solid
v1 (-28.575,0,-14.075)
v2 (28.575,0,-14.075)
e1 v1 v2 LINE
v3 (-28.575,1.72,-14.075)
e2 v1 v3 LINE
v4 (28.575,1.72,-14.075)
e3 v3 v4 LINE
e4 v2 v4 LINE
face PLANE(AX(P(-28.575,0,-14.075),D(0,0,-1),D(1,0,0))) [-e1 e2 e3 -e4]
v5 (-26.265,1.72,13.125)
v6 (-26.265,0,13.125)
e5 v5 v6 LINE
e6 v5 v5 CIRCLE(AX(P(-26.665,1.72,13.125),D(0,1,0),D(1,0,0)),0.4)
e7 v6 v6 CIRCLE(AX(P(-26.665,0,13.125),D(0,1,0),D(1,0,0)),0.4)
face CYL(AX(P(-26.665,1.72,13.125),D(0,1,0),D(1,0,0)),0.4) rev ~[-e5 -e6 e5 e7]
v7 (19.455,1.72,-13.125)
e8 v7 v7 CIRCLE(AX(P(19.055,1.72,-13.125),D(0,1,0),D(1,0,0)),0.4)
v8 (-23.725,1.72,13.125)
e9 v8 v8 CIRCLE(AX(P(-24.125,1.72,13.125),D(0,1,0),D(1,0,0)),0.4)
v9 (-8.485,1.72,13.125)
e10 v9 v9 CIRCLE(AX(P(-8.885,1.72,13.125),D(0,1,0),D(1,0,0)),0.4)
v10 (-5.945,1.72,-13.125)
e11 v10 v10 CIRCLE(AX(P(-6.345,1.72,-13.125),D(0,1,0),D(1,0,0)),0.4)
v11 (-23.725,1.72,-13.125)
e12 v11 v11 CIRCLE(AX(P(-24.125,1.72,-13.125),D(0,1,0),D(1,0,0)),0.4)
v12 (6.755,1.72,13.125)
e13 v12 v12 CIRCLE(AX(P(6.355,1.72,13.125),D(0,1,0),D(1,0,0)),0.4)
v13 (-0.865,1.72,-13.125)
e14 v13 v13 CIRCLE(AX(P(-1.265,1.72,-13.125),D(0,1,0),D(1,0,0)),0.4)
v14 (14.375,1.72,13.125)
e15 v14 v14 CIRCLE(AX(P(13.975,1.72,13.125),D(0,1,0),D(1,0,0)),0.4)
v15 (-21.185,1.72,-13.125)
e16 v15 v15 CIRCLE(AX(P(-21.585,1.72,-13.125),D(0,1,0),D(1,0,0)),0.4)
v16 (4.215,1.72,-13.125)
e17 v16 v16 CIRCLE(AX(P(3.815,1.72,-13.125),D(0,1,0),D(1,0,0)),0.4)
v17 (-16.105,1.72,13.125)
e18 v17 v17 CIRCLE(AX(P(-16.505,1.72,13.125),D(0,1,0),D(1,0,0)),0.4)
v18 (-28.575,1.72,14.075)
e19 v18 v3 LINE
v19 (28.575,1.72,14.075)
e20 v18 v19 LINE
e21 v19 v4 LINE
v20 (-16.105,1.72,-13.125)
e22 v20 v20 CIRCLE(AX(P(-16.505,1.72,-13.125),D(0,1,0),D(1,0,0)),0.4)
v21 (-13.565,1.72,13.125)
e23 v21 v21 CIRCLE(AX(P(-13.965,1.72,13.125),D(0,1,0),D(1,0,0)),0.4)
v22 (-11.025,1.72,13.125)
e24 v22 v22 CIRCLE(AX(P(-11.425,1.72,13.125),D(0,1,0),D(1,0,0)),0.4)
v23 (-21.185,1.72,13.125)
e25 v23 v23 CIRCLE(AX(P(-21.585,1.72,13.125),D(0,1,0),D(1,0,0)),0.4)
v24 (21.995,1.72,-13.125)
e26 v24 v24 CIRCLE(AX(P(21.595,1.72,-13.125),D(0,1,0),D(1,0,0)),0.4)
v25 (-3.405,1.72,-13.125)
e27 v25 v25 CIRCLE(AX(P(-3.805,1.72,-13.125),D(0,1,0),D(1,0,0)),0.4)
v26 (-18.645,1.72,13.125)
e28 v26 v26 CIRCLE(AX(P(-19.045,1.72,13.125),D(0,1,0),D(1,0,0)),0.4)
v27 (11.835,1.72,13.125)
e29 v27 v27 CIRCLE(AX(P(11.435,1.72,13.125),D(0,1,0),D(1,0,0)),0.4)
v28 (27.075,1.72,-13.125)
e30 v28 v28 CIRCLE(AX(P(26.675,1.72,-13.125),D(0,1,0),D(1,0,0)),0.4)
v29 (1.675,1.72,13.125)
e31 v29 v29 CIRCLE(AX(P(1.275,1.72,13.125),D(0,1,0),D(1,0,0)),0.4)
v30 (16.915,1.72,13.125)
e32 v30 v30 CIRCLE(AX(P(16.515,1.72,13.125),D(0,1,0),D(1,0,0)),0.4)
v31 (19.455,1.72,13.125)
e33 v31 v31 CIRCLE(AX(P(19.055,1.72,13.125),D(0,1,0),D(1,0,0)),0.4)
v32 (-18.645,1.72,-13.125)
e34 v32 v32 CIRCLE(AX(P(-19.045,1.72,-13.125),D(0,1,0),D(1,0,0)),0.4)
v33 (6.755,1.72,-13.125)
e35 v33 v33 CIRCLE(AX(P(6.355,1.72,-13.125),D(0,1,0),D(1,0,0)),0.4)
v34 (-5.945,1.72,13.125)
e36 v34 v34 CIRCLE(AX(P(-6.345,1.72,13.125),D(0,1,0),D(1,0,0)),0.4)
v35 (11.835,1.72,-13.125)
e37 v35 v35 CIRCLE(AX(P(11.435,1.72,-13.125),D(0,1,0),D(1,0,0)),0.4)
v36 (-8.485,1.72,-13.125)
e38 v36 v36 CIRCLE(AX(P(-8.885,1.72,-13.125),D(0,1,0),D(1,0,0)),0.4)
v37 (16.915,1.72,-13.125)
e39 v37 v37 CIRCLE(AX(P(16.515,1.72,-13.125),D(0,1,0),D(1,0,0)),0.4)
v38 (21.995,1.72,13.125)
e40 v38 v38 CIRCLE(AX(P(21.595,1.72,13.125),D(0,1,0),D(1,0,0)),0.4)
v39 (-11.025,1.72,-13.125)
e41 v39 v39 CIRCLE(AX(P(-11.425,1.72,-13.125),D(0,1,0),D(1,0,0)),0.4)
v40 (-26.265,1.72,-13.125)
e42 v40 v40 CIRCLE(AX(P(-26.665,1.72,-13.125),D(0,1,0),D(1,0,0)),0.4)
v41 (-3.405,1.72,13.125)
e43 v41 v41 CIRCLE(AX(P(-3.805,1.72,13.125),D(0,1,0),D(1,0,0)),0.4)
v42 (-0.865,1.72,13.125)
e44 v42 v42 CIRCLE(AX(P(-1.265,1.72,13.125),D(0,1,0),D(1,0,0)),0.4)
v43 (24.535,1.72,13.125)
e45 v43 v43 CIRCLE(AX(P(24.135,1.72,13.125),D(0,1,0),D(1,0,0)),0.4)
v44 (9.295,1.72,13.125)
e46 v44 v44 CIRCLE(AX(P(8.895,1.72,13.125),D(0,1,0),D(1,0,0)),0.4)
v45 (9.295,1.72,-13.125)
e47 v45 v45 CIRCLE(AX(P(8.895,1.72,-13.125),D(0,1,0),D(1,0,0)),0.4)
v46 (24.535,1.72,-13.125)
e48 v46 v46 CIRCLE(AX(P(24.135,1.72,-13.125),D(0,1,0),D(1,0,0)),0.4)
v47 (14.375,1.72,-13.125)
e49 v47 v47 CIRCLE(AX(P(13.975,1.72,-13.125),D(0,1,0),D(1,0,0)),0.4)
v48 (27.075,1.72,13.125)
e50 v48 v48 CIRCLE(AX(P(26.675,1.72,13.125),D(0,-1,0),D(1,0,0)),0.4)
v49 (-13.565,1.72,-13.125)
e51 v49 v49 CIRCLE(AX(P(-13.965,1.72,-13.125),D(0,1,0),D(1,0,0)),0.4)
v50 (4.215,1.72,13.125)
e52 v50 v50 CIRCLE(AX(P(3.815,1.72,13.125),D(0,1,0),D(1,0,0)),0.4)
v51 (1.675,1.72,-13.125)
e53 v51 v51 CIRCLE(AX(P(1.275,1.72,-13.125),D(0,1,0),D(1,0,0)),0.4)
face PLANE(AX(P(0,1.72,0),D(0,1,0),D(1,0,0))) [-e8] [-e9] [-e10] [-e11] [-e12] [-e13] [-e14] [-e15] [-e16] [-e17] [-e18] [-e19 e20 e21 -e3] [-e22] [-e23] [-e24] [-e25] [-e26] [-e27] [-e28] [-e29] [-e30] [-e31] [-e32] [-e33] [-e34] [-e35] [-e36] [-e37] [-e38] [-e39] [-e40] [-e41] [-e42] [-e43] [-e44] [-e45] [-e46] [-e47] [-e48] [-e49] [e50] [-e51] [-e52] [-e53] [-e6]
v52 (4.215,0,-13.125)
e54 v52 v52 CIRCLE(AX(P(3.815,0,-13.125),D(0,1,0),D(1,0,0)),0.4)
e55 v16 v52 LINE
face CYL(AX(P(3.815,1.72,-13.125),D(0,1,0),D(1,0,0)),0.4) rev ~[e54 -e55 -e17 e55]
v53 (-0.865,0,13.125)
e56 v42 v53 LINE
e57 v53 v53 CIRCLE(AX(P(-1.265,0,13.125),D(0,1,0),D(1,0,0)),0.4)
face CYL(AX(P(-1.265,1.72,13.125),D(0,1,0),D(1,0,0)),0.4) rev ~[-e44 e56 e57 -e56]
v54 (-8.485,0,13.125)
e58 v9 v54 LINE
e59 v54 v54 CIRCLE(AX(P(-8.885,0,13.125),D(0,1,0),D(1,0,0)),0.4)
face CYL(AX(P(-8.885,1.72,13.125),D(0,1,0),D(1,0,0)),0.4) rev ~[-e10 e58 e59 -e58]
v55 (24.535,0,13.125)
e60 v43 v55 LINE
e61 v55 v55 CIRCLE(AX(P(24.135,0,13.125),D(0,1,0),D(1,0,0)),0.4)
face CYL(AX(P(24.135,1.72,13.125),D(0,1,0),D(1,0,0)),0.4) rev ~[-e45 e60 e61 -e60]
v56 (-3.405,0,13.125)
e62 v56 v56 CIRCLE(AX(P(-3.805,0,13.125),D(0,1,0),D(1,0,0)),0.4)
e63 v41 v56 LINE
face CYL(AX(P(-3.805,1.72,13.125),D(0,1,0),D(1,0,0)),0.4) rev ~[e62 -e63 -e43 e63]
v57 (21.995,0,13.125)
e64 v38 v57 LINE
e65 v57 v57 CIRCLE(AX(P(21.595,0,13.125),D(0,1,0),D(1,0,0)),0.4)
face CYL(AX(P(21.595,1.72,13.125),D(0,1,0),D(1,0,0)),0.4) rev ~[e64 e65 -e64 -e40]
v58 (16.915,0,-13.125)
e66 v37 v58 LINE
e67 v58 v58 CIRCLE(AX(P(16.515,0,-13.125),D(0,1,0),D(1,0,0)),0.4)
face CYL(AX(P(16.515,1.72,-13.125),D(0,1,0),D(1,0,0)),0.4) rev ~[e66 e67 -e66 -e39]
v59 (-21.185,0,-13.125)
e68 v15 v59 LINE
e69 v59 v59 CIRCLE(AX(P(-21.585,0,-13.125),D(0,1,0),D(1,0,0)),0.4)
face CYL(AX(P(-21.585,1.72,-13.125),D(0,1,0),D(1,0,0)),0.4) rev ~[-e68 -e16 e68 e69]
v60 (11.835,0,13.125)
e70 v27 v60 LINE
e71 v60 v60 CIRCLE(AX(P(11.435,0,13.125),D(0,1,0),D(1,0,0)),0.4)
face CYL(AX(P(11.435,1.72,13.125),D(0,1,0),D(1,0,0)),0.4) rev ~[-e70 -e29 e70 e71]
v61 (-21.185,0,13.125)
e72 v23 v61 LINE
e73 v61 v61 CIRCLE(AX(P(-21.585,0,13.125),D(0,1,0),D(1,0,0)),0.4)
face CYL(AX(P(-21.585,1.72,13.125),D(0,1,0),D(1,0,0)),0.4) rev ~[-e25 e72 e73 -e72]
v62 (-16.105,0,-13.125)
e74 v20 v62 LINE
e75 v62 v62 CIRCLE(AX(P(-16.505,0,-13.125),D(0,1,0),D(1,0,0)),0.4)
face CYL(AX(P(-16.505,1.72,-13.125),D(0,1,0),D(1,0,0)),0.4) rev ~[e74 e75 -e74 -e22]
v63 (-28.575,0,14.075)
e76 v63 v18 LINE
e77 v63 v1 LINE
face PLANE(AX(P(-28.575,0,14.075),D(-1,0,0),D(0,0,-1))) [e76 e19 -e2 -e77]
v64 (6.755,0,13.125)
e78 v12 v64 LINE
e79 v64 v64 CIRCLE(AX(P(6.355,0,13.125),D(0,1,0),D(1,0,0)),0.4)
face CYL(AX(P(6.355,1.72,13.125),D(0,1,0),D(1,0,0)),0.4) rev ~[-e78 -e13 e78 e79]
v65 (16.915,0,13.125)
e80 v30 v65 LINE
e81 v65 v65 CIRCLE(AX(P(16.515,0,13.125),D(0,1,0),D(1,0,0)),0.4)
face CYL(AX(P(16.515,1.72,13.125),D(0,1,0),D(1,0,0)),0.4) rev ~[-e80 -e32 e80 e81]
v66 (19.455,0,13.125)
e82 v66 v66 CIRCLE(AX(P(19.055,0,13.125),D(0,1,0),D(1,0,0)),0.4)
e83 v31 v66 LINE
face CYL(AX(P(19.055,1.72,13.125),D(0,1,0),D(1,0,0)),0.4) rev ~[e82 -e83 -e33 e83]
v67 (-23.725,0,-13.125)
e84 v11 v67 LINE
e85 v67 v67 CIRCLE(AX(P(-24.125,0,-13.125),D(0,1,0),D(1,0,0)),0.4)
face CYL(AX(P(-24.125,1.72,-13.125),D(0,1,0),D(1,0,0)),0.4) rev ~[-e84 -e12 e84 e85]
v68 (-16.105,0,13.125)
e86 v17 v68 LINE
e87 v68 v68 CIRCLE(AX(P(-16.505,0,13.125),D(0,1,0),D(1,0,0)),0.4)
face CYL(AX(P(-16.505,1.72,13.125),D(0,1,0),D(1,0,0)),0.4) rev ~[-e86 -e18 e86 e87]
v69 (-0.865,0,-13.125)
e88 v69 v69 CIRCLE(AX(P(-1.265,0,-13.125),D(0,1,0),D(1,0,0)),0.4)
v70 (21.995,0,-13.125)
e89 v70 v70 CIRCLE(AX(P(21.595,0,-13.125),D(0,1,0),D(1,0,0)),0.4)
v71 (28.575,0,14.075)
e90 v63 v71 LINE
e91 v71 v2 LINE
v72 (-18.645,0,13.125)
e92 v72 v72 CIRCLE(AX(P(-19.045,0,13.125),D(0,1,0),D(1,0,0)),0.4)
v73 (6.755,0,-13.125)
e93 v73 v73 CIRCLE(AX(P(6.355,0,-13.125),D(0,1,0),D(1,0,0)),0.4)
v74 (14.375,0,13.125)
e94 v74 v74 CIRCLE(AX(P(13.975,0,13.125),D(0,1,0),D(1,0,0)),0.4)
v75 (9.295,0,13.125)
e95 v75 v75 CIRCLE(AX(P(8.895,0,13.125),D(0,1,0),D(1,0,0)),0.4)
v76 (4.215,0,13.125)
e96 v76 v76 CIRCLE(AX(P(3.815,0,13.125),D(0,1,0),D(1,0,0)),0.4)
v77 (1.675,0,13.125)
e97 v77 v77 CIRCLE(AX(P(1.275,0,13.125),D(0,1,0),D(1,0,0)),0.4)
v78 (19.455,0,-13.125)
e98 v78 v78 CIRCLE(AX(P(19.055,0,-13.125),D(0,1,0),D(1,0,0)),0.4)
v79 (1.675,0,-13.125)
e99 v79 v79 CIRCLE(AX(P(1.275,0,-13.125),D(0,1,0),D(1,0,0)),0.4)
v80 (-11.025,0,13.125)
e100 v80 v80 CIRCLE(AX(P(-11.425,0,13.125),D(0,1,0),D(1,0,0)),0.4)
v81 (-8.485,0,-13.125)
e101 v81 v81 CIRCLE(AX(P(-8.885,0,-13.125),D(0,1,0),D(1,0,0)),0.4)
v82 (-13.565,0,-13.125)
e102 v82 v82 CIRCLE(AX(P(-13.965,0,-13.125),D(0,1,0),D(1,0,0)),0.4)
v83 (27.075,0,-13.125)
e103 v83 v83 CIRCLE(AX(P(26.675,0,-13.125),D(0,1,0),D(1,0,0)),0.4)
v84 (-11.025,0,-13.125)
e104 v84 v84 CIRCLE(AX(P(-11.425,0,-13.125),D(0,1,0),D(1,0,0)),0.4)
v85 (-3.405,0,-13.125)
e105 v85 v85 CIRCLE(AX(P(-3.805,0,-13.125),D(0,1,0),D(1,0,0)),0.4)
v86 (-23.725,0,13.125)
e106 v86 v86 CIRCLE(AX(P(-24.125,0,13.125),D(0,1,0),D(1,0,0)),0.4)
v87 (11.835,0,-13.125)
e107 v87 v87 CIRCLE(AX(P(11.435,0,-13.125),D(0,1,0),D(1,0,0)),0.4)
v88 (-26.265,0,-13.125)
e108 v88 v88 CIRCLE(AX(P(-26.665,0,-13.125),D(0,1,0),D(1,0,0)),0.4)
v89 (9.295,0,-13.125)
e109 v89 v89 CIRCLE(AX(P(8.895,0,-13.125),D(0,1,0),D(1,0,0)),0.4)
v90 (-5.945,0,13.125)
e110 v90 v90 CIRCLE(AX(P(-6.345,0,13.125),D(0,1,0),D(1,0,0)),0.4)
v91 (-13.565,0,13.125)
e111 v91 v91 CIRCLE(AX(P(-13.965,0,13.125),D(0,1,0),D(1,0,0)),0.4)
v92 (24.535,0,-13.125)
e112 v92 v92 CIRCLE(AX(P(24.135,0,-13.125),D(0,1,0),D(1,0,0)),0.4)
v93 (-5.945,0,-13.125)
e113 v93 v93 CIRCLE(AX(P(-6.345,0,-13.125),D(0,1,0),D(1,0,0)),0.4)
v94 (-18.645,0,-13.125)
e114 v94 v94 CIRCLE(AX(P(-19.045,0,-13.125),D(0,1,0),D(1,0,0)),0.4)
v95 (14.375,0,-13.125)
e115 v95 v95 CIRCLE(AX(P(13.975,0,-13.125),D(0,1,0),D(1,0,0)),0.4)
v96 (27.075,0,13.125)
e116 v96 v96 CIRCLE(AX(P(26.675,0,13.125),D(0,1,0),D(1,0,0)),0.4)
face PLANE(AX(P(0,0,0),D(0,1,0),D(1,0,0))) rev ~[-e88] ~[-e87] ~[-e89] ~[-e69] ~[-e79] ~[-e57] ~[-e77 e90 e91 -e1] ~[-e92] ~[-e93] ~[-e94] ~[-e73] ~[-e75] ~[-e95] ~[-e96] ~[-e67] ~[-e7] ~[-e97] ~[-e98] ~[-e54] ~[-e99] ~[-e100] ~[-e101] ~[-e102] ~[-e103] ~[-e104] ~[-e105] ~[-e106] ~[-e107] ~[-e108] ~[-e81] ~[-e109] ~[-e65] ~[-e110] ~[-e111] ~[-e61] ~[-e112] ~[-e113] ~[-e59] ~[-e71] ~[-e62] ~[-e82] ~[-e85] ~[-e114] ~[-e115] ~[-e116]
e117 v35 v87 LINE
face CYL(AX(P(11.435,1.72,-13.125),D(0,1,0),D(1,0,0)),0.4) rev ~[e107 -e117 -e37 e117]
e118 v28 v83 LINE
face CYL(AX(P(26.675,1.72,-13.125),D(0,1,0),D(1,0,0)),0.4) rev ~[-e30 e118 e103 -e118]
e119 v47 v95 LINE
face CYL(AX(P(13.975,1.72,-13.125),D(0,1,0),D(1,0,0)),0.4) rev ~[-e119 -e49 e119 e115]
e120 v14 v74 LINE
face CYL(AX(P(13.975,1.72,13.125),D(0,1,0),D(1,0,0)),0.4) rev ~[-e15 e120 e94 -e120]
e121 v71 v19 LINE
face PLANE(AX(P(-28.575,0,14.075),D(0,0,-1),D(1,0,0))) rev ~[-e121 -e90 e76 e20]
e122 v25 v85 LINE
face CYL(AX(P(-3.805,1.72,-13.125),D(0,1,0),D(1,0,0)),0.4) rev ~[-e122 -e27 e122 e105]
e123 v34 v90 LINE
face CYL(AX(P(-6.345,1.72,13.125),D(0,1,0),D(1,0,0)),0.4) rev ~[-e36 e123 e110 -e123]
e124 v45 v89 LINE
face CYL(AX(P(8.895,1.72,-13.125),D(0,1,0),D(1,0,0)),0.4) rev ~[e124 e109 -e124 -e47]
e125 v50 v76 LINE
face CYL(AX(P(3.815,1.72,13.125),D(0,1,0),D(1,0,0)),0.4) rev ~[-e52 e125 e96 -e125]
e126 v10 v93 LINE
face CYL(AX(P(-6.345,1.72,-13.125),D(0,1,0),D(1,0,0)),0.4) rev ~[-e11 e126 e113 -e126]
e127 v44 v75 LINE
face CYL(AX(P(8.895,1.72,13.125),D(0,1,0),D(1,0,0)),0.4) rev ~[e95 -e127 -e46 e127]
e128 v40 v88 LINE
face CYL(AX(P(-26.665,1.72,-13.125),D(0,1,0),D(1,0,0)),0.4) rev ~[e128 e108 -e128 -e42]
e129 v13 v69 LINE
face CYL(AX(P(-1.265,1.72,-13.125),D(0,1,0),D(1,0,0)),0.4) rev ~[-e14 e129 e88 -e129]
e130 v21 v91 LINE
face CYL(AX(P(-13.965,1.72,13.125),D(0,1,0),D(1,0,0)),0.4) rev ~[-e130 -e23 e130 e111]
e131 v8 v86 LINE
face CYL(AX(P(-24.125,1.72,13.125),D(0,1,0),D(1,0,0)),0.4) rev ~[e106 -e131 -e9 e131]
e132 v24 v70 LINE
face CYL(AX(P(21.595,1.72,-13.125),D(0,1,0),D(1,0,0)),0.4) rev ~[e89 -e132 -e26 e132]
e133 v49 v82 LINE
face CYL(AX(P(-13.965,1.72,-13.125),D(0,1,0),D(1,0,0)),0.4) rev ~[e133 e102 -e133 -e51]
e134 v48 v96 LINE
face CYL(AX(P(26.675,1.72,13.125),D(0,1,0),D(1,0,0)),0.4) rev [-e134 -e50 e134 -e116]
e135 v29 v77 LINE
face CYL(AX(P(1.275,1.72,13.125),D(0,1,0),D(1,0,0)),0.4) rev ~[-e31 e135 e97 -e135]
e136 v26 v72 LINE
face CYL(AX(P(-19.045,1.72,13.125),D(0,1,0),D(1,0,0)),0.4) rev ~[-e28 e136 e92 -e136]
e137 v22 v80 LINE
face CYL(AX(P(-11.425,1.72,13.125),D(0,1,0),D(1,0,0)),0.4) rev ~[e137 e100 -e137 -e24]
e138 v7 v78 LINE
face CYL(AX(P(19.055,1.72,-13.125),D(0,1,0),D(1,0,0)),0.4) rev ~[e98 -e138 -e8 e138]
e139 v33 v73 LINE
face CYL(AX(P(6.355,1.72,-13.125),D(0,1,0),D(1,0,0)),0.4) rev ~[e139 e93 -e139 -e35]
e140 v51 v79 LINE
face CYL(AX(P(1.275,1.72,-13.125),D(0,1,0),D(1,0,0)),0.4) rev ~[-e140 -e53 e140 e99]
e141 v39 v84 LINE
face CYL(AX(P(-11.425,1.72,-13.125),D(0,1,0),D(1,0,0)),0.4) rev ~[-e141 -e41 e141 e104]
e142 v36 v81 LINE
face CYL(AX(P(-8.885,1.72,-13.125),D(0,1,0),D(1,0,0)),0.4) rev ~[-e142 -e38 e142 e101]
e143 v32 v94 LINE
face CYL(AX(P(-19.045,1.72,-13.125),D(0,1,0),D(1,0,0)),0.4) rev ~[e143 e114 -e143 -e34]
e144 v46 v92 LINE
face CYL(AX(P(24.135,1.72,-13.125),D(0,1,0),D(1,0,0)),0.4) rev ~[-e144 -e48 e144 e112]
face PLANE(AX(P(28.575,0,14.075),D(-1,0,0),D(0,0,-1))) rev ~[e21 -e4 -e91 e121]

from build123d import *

# Parameters (mm, degrees)
SKETCH1_W                = 57.15
SKETCH1_H                = 28.15
BOSS_EXTRUDE1_DEPTH      = 1.72
SKETCH2_R                = 0.4
CUT_EXTRUDE1_DEPTH       = 2.72
LPATTERN1_COUNT          = 22
LPATTERN1_PITCH          = 2.54
MIRROR1_COPY_1_SKETCH_R  = 0.4
MIRROR1_COPY_1_DEPTH     = 2.72
MIRROR1_COPY_2_SKETCH_R  = 0.4
MIRROR1_COPY_2_DEPTH     = 2.72
MIRROR1_COPY_3_SKETCH_R  = 0.4
MIRROR1_COPY_3_DEPTH     = 2.72
MIRROR1_COPY_4_SKETCH_R  = 0.4
MIRROR1_COPY_4_DEPTH     = 2.72
MIRROR1_COPY_5_SKETCH_R  = 0.4
MIRROR1_COPY_5_DEPTH     = 2.72
MIRROR1_COPY_6_SKETCH_R  = 0.4
MIRROR1_COPY_6_DEPTH     = 2.72
MIRROR1_COPY_7_SKETCH_R  = 0.4
MIRROR1_COPY_7_DEPTH     = 2.72
MIRROR1_COPY_8_SKETCH_R  = 0.4
MIRROR1_COPY_8_DEPTH     = 2.72
MIRROR1_COPY_9_SKETCH_R  = 0.4
MIRROR1_COPY_9_DEPTH     = 2.72
MIRROR1_COPY_10_SKETCH_R = 0.4
MIRROR1_COPY_10_DEPTH    = 2.72
MIRROR1_COPY_11_SKETCH_R = 0.4
MIRROR1_COPY_11_DEPTH    = 2.72
MIRROR1_COPY_12_SKETCH_R = 0.4
MIRROR1_COPY_12_DEPTH    = 2.72
MIRROR1_COPY_13_SKETCH_R = 0.4
MIRROR1_COPY_13_DEPTH    = 2.72
MIRROR1_COPY_14_SKETCH_R = 0.4
MIRROR1_COPY_14_DEPTH    = 2.72
MIRROR1_COPY_15_SKETCH_R = 0.4
MIRROR1_COPY_15_DEPTH    = 2.72
MIRROR1_COPY_16_SKETCH_R = 0.4
MIRROR1_COPY_16_DEPTH    = 2.72
MIRROR1_COPY_17_SKETCH_R = 0.4
MIRROR1_COPY_17_DEPTH    = 2.72
MIRROR1_COPY_18_SKETCH_R = 0.4
MIRROR1_COPY_18_DEPTH    = 2.72
MIRROR1_COPY_19_SKETCH_R = 0.4
MIRROR1_COPY_19_DEPTH    = 2.72
MIRROR1_COPY_20_SKETCH_R = 0.4
MIRROR1_COPY_20_DEPTH    = 2.72
MIRROR1_COPY_21_SKETCH_R = 0.4
MIRROR1_COPY_21_DEPTH    = 2.72


with BuildPart() as part:
    # Sketch1 → Boss-Extrude1 (new body)
    with BuildSketch(Plane(origin=(0, 0, 0), x_dir=(1, 0, 0), z_dir=(0, 1, 0))):
        Rectangle(SKETCH1_W, SKETCH1_H)
    extrude(amount=BOSS_EXTRUDE1_DEPTH)

    # Sketch2 → Cut-Extrude1 (cut, through all)
    with BuildSketch(Plane(origin=(0, 1.72, 0), x_dir=(1, 0, 0), z_dir=(0, 1, 0))):
        with Locations((26.675, 13.125)):
            Circle(SKETCH2_R)
    cut_extrude1 = extrude(amount=-CUT_EXTRUDE1_DEPTH, mode=Mode.SUBTRACT)

    # LPattern1: Cut-Extrude1 ×22
    with Locations(*[(-i * LPATTERN1_PITCH, 0, 0) for i in range(1, LPATTERN1_COUNT)]):
        add(cut_extrude1, mode=Mode.SUBTRACT)

    # Mirror1: Cut-Extrude1 across plane
    add(cut_extrude1.mirror(Plane.XY), mode=Mode.SUBTRACT)

    # Mirror1 copy 1 sketch → Mirror1 copy 1 (cut, through all)
    with BuildSketch(Plane(origin=(-2.54, 1.72, 0), x_dir=(1, 0, 0), z_dir=(0, 1, 0))):
        with Locations((26.675, -13.125)):
            Circle(MIRROR1_COPY_1_SKETCH_R)
    extrude(amount=-MIRROR1_COPY_1_DEPTH, mode=Mode.SUBTRACT)

    # Mirror1 copy 2 sketch → Mirror1 copy 2 (cut, through all)
    with BuildSketch(Plane(origin=(-5.08, 1.72, 0), x_dir=(1, 0, 0), z_dir=(0, 1, 0))):
        with Locations((26.675, -13.125)):
            Circle(MIRROR1_COPY_2_SKETCH_R)
    extrude(amount=-MIRROR1_COPY_2_DEPTH, mode=Mode.SUBTRACT)

    # Mirror1 copy 3 sketch → Mirror1 copy 3 (cut, through all)
    with BuildSketch(Plane(origin=(-7.62, 1.72, 0), x_dir=(1, 0, 0), z_dir=(0, 1, 0))):
        with Locations((26.675, -13.125)):
            Circle(MIRROR1_COPY_3_SKETCH_R)
    extrude(amount=-MIRROR1_COPY_3_DEPTH, mode=Mode.SUBTRACT)

    # Mirror1 copy 4 sketch → Mirror1 copy 4 (cut, through all)
    with BuildSketch(Plane(origin=(-10.16, 1.72, 0), x_dir=(1, 0, 0), z_dir=(0, 1, 0))):
        with Locations((26.675, -13.125)):
            Circle(MIRROR1_COPY_4_SKETCH_R)
    extrude(amount=-MIRROR1_COPY_4_DEPTH, mode=Mode.SUBTRACT)

    # Mirror1 copy 5 sketch → Mirror1 copy 5 (cut, through all)
    with BuildSketch(Plane(origin=(-12.7, 1.72, 0), x_dir=(1, 0, 0), z_dir=(0, 1, 0))):
        with Locations((26.675, -13.125)):
            Circle(MIRROR1_COPY_5_SKETCH_R)
    extrude(amount=-MIRROR1_COPY_5_DEPTH, mode=Mode.SUBTRACT)

    # Mirror1 copy 6 sketch → Mirror1 copy 6 (cut, through all)
    with BuildSketch(Plane(origin=(-15.24, 1.72, 0), x_dir=(1, 0, 0), z_dir=(0, 1, 0))):
        with Locations((26.675, -13.125)):
            Circle(MIRROR1_COPY_6_SKETCH_R)
    extrude(amount=-MIRROR1_COPY_6_DEPTH, mode=Mode.SUBTRACT)

    # Mirror1 copy 7 sketch → Mirror1 copy 7 (cut, through all)
    with BuildSketch(Plane(origin=(-17.78, 1.72, 0), x_dir=(1, 0, 0), z_dir=(0, 1, 0))):
        with Locations((26.675, -13.125)):
            Circle(MIRROR1_COPY_7_SKETCH_R)
    extrude(amount=-MIRROR1_COPY_7_DEPTH, mode=Mode.SUBTRACT)

    # Mirror1 copy 8 sketch → Mirror1 copy 8 (cut, through all)
    with BuildSketch(Plane(origin=(-20.32, 1.72, 0), x_dir=(1, 0, 0), z_dir=(0, 1, 0))):
        with Locations((26.675, -13.125)):
            Circle(MIRROR1_COPY_8_SKETCH_R)
    extrude(amount=-MIRROR1_COPY_8_DEPTH, mode=Mode.SUBTRACT)

    # Mirror1 copy 9 sketch → Mirror1 copy 9 (cut, through all)
    with BuildSketch(Plane(origin=(-22.86, 1.72, 0), x_dir=(1, 0, 0), z_dir=(0, 1, 0))):
        with Locations((26.675, -13.125)):
            Circle(MIRROR1_COPY_9_SKETCH_R)
    extrude(amount=-MIRROR1_COPY_9_DEPTH, mode=Mode.SUBTRACT)

    # Mirror1 copy 10 sketch → Mirror1 copy 10 (cut, through all)
    with BuildSketch(Plane(origin=(-25.4, 1.72, 0), x_dir=(1, 0, 0), z_dir=(0, 1, 0))):
        with Locations((26.675, -13.125)):
            Circle(MIRROR1_COPY_10_SKETCH_R)
    extrude(amount=-MIRROR1_COPY_10_DEPTH, mode=Mode.SUBTRACT)

    # Mirror1 copy 11 sketch → Mirror1 copy 11 (cut, through all)
    with BuildSketch(Plane(origin=(-27.94, 1.72, 0), x_dir=(1, 0, 0), z_dir=(0, 1, 0))):
        with Locations((26.675, -13.125)):
            Circle(MIRROR1_COPY_11_SKETCH_R)
    extrude(amount=-MIRROR1_COPY_11_DEPTH, mode=Mode.SUBTRACT)

    # Mirror1 copy 12 sketch → Mirror1 copy 12 (cut, through all)
    with BuildSketch(Plane(origin=(-30.48, 1.72, 0), x_dir=(1, 0, 0), z_dir=(0, 1, 0))):
        with Locations((26.675, -13.125)):
            Circle(MIRROR1_COPY_12_SKETCH_R)
    extrude(amount=-MIRROR1_COPY_12_DEPTH, mode=Mode.SUBTRACT)

    # Mirror1 copy 13 sketch → Mirror1 copy 13 (cut, through all)
    with BuildSketch(Plane(origin=(-33.02, 1.72, 0), x_dir=(1, 0, 0), z_dir=(0, 1, 0))):
        with Locations((26.675, -13.125)):
            Circle(MIRROR1_COPY_13_SKETCH_R)
    extrude(amount=-MIRROR1_COPY_13_DEPTH, mode=Mode.SUBTRACT)

    # Mirror1 copy 14 sketch → Mirror1 copy 14 (cut, through all)
    with BuildSketch(Plane(origin=(-35.56, 1.72, 0), x_dir=(1, 0, 0), z_dir=(0, 1, 0))):
        with Locations((26.675, -13.125)):
            Circle(MIRROR1_COPY_14_SKETCH_R)
    extrude(amount=-MIRROR1_COPY_14_DEPTH, mode=Mode.SUBTRACT)

    # Mirror1 copy 15 sketch → Mirror1 copy 15 (cut, through all)
    with BuildSketch(Plane(origin=(-38.1, 1.72, 0), x_dir=(1, 0, 0), z_dir=(0, 1, 0))):
        with Locations((26.675, -13.125)):
            Circle(MIRROR1_COPY_15_SKETCH_R)
    extrude(amount=-MIRROR1_COPY_15_DEPTH, mode=Mode.SUBTRACT)

    # Mirror1 copy 16 sketch → Mirror1 copy 16 (cut, through all)
    with BuildSketch(Plane(origin=(-40.64, 1.72, 0), x_dir=(1, 0, 0), z_dir=(0, 1, 0))):
        with Locations((26.675, -13.125)):
            Circle(MIRROR1_COPY_16_SKETCH_R)
    extrude(amount=-MIRROR1_COPY_16_DEPTH, mode=Mode.SUBTRACT)

    # Mirror1 copy 17 sketch → Mirror1 copy 17 (cut, through all)
    with BuildSketch(Plane(origin=(-43.18, 1.72, 0), x_dir=(1, 0, 0), z_dir=(0, 1, 0))):
        with Locations((26.675, -13.125)):
            Circle(MIRROR1_COPY_17_SKETCH_R)
    extrude(amount=-MIRROR1_COPY_17_DEPTH, mode=Mode.SUBTRACT)

    # Mirror1 copy 18 sketch → Mirror1 copy 18 (cut, through all)
    with BuildSketch(Plane(origin=(-45.72, 1.72, 0), x_dir=(1, 0, 0), z_dir=(0, 1, 0))):
        with Locations((26.675, -13.125)):
            Circle(MIRROR1_COPY_18_SKETCH_R)
    extrude(amount=-MIRROR1_COPY_18_DEPTH, mode=Mode.SUBTRACT)

    # Mirror1 copy 19 sketch → Mirror1 copy 19 (cut, through all)
    with BuildSketch(Plane(origin=(-48.26, 1.72, 0), x_dir=(1, 0, 0), z_dir=(0, 1, 0))):
        with Locations((26.675, -13.125)):
            Circle(MIRROR1_COPY_19_SKETCH_R)
    extrude(amount=-MIRROR1_COPY_19_DEPTH, mode=Mode.SUBTRACT)

    # Mirror1 copy 20 sketch → Mirror1 copy 20 (cut, through all)
    with BuildSketch(Plane(origin=(-50.8, 1.72, 0), x_dir=(1, 0, 0), z_dir=(0, 1, 0))):
        with Locations((26.675, -13.125)):
            Circle(MIRROR1_COPY_20_SKETCH_R)
    extrude(amount=-MIRROR1_COPY_20_DEPTH, mode=Mode.SUBTRACT)

    # Mirror1 copy 21 sketch → Mirror1 copy 21 (cut, through all)
    with BuildSketch(Plane(origin=(-53.34, 1.72, 0), x_dir=(1, 0, 0), z_dir=(0, 1, 0))):
        with Locations((26.675, -13.125)):
            Circle(MIRROR1_COPY_21_SKETCH_R)
    extrude(amount=-MIRROR1_COPY_21_DEPTH, mode=Mode.SUBTRACT)


solid = part.part
